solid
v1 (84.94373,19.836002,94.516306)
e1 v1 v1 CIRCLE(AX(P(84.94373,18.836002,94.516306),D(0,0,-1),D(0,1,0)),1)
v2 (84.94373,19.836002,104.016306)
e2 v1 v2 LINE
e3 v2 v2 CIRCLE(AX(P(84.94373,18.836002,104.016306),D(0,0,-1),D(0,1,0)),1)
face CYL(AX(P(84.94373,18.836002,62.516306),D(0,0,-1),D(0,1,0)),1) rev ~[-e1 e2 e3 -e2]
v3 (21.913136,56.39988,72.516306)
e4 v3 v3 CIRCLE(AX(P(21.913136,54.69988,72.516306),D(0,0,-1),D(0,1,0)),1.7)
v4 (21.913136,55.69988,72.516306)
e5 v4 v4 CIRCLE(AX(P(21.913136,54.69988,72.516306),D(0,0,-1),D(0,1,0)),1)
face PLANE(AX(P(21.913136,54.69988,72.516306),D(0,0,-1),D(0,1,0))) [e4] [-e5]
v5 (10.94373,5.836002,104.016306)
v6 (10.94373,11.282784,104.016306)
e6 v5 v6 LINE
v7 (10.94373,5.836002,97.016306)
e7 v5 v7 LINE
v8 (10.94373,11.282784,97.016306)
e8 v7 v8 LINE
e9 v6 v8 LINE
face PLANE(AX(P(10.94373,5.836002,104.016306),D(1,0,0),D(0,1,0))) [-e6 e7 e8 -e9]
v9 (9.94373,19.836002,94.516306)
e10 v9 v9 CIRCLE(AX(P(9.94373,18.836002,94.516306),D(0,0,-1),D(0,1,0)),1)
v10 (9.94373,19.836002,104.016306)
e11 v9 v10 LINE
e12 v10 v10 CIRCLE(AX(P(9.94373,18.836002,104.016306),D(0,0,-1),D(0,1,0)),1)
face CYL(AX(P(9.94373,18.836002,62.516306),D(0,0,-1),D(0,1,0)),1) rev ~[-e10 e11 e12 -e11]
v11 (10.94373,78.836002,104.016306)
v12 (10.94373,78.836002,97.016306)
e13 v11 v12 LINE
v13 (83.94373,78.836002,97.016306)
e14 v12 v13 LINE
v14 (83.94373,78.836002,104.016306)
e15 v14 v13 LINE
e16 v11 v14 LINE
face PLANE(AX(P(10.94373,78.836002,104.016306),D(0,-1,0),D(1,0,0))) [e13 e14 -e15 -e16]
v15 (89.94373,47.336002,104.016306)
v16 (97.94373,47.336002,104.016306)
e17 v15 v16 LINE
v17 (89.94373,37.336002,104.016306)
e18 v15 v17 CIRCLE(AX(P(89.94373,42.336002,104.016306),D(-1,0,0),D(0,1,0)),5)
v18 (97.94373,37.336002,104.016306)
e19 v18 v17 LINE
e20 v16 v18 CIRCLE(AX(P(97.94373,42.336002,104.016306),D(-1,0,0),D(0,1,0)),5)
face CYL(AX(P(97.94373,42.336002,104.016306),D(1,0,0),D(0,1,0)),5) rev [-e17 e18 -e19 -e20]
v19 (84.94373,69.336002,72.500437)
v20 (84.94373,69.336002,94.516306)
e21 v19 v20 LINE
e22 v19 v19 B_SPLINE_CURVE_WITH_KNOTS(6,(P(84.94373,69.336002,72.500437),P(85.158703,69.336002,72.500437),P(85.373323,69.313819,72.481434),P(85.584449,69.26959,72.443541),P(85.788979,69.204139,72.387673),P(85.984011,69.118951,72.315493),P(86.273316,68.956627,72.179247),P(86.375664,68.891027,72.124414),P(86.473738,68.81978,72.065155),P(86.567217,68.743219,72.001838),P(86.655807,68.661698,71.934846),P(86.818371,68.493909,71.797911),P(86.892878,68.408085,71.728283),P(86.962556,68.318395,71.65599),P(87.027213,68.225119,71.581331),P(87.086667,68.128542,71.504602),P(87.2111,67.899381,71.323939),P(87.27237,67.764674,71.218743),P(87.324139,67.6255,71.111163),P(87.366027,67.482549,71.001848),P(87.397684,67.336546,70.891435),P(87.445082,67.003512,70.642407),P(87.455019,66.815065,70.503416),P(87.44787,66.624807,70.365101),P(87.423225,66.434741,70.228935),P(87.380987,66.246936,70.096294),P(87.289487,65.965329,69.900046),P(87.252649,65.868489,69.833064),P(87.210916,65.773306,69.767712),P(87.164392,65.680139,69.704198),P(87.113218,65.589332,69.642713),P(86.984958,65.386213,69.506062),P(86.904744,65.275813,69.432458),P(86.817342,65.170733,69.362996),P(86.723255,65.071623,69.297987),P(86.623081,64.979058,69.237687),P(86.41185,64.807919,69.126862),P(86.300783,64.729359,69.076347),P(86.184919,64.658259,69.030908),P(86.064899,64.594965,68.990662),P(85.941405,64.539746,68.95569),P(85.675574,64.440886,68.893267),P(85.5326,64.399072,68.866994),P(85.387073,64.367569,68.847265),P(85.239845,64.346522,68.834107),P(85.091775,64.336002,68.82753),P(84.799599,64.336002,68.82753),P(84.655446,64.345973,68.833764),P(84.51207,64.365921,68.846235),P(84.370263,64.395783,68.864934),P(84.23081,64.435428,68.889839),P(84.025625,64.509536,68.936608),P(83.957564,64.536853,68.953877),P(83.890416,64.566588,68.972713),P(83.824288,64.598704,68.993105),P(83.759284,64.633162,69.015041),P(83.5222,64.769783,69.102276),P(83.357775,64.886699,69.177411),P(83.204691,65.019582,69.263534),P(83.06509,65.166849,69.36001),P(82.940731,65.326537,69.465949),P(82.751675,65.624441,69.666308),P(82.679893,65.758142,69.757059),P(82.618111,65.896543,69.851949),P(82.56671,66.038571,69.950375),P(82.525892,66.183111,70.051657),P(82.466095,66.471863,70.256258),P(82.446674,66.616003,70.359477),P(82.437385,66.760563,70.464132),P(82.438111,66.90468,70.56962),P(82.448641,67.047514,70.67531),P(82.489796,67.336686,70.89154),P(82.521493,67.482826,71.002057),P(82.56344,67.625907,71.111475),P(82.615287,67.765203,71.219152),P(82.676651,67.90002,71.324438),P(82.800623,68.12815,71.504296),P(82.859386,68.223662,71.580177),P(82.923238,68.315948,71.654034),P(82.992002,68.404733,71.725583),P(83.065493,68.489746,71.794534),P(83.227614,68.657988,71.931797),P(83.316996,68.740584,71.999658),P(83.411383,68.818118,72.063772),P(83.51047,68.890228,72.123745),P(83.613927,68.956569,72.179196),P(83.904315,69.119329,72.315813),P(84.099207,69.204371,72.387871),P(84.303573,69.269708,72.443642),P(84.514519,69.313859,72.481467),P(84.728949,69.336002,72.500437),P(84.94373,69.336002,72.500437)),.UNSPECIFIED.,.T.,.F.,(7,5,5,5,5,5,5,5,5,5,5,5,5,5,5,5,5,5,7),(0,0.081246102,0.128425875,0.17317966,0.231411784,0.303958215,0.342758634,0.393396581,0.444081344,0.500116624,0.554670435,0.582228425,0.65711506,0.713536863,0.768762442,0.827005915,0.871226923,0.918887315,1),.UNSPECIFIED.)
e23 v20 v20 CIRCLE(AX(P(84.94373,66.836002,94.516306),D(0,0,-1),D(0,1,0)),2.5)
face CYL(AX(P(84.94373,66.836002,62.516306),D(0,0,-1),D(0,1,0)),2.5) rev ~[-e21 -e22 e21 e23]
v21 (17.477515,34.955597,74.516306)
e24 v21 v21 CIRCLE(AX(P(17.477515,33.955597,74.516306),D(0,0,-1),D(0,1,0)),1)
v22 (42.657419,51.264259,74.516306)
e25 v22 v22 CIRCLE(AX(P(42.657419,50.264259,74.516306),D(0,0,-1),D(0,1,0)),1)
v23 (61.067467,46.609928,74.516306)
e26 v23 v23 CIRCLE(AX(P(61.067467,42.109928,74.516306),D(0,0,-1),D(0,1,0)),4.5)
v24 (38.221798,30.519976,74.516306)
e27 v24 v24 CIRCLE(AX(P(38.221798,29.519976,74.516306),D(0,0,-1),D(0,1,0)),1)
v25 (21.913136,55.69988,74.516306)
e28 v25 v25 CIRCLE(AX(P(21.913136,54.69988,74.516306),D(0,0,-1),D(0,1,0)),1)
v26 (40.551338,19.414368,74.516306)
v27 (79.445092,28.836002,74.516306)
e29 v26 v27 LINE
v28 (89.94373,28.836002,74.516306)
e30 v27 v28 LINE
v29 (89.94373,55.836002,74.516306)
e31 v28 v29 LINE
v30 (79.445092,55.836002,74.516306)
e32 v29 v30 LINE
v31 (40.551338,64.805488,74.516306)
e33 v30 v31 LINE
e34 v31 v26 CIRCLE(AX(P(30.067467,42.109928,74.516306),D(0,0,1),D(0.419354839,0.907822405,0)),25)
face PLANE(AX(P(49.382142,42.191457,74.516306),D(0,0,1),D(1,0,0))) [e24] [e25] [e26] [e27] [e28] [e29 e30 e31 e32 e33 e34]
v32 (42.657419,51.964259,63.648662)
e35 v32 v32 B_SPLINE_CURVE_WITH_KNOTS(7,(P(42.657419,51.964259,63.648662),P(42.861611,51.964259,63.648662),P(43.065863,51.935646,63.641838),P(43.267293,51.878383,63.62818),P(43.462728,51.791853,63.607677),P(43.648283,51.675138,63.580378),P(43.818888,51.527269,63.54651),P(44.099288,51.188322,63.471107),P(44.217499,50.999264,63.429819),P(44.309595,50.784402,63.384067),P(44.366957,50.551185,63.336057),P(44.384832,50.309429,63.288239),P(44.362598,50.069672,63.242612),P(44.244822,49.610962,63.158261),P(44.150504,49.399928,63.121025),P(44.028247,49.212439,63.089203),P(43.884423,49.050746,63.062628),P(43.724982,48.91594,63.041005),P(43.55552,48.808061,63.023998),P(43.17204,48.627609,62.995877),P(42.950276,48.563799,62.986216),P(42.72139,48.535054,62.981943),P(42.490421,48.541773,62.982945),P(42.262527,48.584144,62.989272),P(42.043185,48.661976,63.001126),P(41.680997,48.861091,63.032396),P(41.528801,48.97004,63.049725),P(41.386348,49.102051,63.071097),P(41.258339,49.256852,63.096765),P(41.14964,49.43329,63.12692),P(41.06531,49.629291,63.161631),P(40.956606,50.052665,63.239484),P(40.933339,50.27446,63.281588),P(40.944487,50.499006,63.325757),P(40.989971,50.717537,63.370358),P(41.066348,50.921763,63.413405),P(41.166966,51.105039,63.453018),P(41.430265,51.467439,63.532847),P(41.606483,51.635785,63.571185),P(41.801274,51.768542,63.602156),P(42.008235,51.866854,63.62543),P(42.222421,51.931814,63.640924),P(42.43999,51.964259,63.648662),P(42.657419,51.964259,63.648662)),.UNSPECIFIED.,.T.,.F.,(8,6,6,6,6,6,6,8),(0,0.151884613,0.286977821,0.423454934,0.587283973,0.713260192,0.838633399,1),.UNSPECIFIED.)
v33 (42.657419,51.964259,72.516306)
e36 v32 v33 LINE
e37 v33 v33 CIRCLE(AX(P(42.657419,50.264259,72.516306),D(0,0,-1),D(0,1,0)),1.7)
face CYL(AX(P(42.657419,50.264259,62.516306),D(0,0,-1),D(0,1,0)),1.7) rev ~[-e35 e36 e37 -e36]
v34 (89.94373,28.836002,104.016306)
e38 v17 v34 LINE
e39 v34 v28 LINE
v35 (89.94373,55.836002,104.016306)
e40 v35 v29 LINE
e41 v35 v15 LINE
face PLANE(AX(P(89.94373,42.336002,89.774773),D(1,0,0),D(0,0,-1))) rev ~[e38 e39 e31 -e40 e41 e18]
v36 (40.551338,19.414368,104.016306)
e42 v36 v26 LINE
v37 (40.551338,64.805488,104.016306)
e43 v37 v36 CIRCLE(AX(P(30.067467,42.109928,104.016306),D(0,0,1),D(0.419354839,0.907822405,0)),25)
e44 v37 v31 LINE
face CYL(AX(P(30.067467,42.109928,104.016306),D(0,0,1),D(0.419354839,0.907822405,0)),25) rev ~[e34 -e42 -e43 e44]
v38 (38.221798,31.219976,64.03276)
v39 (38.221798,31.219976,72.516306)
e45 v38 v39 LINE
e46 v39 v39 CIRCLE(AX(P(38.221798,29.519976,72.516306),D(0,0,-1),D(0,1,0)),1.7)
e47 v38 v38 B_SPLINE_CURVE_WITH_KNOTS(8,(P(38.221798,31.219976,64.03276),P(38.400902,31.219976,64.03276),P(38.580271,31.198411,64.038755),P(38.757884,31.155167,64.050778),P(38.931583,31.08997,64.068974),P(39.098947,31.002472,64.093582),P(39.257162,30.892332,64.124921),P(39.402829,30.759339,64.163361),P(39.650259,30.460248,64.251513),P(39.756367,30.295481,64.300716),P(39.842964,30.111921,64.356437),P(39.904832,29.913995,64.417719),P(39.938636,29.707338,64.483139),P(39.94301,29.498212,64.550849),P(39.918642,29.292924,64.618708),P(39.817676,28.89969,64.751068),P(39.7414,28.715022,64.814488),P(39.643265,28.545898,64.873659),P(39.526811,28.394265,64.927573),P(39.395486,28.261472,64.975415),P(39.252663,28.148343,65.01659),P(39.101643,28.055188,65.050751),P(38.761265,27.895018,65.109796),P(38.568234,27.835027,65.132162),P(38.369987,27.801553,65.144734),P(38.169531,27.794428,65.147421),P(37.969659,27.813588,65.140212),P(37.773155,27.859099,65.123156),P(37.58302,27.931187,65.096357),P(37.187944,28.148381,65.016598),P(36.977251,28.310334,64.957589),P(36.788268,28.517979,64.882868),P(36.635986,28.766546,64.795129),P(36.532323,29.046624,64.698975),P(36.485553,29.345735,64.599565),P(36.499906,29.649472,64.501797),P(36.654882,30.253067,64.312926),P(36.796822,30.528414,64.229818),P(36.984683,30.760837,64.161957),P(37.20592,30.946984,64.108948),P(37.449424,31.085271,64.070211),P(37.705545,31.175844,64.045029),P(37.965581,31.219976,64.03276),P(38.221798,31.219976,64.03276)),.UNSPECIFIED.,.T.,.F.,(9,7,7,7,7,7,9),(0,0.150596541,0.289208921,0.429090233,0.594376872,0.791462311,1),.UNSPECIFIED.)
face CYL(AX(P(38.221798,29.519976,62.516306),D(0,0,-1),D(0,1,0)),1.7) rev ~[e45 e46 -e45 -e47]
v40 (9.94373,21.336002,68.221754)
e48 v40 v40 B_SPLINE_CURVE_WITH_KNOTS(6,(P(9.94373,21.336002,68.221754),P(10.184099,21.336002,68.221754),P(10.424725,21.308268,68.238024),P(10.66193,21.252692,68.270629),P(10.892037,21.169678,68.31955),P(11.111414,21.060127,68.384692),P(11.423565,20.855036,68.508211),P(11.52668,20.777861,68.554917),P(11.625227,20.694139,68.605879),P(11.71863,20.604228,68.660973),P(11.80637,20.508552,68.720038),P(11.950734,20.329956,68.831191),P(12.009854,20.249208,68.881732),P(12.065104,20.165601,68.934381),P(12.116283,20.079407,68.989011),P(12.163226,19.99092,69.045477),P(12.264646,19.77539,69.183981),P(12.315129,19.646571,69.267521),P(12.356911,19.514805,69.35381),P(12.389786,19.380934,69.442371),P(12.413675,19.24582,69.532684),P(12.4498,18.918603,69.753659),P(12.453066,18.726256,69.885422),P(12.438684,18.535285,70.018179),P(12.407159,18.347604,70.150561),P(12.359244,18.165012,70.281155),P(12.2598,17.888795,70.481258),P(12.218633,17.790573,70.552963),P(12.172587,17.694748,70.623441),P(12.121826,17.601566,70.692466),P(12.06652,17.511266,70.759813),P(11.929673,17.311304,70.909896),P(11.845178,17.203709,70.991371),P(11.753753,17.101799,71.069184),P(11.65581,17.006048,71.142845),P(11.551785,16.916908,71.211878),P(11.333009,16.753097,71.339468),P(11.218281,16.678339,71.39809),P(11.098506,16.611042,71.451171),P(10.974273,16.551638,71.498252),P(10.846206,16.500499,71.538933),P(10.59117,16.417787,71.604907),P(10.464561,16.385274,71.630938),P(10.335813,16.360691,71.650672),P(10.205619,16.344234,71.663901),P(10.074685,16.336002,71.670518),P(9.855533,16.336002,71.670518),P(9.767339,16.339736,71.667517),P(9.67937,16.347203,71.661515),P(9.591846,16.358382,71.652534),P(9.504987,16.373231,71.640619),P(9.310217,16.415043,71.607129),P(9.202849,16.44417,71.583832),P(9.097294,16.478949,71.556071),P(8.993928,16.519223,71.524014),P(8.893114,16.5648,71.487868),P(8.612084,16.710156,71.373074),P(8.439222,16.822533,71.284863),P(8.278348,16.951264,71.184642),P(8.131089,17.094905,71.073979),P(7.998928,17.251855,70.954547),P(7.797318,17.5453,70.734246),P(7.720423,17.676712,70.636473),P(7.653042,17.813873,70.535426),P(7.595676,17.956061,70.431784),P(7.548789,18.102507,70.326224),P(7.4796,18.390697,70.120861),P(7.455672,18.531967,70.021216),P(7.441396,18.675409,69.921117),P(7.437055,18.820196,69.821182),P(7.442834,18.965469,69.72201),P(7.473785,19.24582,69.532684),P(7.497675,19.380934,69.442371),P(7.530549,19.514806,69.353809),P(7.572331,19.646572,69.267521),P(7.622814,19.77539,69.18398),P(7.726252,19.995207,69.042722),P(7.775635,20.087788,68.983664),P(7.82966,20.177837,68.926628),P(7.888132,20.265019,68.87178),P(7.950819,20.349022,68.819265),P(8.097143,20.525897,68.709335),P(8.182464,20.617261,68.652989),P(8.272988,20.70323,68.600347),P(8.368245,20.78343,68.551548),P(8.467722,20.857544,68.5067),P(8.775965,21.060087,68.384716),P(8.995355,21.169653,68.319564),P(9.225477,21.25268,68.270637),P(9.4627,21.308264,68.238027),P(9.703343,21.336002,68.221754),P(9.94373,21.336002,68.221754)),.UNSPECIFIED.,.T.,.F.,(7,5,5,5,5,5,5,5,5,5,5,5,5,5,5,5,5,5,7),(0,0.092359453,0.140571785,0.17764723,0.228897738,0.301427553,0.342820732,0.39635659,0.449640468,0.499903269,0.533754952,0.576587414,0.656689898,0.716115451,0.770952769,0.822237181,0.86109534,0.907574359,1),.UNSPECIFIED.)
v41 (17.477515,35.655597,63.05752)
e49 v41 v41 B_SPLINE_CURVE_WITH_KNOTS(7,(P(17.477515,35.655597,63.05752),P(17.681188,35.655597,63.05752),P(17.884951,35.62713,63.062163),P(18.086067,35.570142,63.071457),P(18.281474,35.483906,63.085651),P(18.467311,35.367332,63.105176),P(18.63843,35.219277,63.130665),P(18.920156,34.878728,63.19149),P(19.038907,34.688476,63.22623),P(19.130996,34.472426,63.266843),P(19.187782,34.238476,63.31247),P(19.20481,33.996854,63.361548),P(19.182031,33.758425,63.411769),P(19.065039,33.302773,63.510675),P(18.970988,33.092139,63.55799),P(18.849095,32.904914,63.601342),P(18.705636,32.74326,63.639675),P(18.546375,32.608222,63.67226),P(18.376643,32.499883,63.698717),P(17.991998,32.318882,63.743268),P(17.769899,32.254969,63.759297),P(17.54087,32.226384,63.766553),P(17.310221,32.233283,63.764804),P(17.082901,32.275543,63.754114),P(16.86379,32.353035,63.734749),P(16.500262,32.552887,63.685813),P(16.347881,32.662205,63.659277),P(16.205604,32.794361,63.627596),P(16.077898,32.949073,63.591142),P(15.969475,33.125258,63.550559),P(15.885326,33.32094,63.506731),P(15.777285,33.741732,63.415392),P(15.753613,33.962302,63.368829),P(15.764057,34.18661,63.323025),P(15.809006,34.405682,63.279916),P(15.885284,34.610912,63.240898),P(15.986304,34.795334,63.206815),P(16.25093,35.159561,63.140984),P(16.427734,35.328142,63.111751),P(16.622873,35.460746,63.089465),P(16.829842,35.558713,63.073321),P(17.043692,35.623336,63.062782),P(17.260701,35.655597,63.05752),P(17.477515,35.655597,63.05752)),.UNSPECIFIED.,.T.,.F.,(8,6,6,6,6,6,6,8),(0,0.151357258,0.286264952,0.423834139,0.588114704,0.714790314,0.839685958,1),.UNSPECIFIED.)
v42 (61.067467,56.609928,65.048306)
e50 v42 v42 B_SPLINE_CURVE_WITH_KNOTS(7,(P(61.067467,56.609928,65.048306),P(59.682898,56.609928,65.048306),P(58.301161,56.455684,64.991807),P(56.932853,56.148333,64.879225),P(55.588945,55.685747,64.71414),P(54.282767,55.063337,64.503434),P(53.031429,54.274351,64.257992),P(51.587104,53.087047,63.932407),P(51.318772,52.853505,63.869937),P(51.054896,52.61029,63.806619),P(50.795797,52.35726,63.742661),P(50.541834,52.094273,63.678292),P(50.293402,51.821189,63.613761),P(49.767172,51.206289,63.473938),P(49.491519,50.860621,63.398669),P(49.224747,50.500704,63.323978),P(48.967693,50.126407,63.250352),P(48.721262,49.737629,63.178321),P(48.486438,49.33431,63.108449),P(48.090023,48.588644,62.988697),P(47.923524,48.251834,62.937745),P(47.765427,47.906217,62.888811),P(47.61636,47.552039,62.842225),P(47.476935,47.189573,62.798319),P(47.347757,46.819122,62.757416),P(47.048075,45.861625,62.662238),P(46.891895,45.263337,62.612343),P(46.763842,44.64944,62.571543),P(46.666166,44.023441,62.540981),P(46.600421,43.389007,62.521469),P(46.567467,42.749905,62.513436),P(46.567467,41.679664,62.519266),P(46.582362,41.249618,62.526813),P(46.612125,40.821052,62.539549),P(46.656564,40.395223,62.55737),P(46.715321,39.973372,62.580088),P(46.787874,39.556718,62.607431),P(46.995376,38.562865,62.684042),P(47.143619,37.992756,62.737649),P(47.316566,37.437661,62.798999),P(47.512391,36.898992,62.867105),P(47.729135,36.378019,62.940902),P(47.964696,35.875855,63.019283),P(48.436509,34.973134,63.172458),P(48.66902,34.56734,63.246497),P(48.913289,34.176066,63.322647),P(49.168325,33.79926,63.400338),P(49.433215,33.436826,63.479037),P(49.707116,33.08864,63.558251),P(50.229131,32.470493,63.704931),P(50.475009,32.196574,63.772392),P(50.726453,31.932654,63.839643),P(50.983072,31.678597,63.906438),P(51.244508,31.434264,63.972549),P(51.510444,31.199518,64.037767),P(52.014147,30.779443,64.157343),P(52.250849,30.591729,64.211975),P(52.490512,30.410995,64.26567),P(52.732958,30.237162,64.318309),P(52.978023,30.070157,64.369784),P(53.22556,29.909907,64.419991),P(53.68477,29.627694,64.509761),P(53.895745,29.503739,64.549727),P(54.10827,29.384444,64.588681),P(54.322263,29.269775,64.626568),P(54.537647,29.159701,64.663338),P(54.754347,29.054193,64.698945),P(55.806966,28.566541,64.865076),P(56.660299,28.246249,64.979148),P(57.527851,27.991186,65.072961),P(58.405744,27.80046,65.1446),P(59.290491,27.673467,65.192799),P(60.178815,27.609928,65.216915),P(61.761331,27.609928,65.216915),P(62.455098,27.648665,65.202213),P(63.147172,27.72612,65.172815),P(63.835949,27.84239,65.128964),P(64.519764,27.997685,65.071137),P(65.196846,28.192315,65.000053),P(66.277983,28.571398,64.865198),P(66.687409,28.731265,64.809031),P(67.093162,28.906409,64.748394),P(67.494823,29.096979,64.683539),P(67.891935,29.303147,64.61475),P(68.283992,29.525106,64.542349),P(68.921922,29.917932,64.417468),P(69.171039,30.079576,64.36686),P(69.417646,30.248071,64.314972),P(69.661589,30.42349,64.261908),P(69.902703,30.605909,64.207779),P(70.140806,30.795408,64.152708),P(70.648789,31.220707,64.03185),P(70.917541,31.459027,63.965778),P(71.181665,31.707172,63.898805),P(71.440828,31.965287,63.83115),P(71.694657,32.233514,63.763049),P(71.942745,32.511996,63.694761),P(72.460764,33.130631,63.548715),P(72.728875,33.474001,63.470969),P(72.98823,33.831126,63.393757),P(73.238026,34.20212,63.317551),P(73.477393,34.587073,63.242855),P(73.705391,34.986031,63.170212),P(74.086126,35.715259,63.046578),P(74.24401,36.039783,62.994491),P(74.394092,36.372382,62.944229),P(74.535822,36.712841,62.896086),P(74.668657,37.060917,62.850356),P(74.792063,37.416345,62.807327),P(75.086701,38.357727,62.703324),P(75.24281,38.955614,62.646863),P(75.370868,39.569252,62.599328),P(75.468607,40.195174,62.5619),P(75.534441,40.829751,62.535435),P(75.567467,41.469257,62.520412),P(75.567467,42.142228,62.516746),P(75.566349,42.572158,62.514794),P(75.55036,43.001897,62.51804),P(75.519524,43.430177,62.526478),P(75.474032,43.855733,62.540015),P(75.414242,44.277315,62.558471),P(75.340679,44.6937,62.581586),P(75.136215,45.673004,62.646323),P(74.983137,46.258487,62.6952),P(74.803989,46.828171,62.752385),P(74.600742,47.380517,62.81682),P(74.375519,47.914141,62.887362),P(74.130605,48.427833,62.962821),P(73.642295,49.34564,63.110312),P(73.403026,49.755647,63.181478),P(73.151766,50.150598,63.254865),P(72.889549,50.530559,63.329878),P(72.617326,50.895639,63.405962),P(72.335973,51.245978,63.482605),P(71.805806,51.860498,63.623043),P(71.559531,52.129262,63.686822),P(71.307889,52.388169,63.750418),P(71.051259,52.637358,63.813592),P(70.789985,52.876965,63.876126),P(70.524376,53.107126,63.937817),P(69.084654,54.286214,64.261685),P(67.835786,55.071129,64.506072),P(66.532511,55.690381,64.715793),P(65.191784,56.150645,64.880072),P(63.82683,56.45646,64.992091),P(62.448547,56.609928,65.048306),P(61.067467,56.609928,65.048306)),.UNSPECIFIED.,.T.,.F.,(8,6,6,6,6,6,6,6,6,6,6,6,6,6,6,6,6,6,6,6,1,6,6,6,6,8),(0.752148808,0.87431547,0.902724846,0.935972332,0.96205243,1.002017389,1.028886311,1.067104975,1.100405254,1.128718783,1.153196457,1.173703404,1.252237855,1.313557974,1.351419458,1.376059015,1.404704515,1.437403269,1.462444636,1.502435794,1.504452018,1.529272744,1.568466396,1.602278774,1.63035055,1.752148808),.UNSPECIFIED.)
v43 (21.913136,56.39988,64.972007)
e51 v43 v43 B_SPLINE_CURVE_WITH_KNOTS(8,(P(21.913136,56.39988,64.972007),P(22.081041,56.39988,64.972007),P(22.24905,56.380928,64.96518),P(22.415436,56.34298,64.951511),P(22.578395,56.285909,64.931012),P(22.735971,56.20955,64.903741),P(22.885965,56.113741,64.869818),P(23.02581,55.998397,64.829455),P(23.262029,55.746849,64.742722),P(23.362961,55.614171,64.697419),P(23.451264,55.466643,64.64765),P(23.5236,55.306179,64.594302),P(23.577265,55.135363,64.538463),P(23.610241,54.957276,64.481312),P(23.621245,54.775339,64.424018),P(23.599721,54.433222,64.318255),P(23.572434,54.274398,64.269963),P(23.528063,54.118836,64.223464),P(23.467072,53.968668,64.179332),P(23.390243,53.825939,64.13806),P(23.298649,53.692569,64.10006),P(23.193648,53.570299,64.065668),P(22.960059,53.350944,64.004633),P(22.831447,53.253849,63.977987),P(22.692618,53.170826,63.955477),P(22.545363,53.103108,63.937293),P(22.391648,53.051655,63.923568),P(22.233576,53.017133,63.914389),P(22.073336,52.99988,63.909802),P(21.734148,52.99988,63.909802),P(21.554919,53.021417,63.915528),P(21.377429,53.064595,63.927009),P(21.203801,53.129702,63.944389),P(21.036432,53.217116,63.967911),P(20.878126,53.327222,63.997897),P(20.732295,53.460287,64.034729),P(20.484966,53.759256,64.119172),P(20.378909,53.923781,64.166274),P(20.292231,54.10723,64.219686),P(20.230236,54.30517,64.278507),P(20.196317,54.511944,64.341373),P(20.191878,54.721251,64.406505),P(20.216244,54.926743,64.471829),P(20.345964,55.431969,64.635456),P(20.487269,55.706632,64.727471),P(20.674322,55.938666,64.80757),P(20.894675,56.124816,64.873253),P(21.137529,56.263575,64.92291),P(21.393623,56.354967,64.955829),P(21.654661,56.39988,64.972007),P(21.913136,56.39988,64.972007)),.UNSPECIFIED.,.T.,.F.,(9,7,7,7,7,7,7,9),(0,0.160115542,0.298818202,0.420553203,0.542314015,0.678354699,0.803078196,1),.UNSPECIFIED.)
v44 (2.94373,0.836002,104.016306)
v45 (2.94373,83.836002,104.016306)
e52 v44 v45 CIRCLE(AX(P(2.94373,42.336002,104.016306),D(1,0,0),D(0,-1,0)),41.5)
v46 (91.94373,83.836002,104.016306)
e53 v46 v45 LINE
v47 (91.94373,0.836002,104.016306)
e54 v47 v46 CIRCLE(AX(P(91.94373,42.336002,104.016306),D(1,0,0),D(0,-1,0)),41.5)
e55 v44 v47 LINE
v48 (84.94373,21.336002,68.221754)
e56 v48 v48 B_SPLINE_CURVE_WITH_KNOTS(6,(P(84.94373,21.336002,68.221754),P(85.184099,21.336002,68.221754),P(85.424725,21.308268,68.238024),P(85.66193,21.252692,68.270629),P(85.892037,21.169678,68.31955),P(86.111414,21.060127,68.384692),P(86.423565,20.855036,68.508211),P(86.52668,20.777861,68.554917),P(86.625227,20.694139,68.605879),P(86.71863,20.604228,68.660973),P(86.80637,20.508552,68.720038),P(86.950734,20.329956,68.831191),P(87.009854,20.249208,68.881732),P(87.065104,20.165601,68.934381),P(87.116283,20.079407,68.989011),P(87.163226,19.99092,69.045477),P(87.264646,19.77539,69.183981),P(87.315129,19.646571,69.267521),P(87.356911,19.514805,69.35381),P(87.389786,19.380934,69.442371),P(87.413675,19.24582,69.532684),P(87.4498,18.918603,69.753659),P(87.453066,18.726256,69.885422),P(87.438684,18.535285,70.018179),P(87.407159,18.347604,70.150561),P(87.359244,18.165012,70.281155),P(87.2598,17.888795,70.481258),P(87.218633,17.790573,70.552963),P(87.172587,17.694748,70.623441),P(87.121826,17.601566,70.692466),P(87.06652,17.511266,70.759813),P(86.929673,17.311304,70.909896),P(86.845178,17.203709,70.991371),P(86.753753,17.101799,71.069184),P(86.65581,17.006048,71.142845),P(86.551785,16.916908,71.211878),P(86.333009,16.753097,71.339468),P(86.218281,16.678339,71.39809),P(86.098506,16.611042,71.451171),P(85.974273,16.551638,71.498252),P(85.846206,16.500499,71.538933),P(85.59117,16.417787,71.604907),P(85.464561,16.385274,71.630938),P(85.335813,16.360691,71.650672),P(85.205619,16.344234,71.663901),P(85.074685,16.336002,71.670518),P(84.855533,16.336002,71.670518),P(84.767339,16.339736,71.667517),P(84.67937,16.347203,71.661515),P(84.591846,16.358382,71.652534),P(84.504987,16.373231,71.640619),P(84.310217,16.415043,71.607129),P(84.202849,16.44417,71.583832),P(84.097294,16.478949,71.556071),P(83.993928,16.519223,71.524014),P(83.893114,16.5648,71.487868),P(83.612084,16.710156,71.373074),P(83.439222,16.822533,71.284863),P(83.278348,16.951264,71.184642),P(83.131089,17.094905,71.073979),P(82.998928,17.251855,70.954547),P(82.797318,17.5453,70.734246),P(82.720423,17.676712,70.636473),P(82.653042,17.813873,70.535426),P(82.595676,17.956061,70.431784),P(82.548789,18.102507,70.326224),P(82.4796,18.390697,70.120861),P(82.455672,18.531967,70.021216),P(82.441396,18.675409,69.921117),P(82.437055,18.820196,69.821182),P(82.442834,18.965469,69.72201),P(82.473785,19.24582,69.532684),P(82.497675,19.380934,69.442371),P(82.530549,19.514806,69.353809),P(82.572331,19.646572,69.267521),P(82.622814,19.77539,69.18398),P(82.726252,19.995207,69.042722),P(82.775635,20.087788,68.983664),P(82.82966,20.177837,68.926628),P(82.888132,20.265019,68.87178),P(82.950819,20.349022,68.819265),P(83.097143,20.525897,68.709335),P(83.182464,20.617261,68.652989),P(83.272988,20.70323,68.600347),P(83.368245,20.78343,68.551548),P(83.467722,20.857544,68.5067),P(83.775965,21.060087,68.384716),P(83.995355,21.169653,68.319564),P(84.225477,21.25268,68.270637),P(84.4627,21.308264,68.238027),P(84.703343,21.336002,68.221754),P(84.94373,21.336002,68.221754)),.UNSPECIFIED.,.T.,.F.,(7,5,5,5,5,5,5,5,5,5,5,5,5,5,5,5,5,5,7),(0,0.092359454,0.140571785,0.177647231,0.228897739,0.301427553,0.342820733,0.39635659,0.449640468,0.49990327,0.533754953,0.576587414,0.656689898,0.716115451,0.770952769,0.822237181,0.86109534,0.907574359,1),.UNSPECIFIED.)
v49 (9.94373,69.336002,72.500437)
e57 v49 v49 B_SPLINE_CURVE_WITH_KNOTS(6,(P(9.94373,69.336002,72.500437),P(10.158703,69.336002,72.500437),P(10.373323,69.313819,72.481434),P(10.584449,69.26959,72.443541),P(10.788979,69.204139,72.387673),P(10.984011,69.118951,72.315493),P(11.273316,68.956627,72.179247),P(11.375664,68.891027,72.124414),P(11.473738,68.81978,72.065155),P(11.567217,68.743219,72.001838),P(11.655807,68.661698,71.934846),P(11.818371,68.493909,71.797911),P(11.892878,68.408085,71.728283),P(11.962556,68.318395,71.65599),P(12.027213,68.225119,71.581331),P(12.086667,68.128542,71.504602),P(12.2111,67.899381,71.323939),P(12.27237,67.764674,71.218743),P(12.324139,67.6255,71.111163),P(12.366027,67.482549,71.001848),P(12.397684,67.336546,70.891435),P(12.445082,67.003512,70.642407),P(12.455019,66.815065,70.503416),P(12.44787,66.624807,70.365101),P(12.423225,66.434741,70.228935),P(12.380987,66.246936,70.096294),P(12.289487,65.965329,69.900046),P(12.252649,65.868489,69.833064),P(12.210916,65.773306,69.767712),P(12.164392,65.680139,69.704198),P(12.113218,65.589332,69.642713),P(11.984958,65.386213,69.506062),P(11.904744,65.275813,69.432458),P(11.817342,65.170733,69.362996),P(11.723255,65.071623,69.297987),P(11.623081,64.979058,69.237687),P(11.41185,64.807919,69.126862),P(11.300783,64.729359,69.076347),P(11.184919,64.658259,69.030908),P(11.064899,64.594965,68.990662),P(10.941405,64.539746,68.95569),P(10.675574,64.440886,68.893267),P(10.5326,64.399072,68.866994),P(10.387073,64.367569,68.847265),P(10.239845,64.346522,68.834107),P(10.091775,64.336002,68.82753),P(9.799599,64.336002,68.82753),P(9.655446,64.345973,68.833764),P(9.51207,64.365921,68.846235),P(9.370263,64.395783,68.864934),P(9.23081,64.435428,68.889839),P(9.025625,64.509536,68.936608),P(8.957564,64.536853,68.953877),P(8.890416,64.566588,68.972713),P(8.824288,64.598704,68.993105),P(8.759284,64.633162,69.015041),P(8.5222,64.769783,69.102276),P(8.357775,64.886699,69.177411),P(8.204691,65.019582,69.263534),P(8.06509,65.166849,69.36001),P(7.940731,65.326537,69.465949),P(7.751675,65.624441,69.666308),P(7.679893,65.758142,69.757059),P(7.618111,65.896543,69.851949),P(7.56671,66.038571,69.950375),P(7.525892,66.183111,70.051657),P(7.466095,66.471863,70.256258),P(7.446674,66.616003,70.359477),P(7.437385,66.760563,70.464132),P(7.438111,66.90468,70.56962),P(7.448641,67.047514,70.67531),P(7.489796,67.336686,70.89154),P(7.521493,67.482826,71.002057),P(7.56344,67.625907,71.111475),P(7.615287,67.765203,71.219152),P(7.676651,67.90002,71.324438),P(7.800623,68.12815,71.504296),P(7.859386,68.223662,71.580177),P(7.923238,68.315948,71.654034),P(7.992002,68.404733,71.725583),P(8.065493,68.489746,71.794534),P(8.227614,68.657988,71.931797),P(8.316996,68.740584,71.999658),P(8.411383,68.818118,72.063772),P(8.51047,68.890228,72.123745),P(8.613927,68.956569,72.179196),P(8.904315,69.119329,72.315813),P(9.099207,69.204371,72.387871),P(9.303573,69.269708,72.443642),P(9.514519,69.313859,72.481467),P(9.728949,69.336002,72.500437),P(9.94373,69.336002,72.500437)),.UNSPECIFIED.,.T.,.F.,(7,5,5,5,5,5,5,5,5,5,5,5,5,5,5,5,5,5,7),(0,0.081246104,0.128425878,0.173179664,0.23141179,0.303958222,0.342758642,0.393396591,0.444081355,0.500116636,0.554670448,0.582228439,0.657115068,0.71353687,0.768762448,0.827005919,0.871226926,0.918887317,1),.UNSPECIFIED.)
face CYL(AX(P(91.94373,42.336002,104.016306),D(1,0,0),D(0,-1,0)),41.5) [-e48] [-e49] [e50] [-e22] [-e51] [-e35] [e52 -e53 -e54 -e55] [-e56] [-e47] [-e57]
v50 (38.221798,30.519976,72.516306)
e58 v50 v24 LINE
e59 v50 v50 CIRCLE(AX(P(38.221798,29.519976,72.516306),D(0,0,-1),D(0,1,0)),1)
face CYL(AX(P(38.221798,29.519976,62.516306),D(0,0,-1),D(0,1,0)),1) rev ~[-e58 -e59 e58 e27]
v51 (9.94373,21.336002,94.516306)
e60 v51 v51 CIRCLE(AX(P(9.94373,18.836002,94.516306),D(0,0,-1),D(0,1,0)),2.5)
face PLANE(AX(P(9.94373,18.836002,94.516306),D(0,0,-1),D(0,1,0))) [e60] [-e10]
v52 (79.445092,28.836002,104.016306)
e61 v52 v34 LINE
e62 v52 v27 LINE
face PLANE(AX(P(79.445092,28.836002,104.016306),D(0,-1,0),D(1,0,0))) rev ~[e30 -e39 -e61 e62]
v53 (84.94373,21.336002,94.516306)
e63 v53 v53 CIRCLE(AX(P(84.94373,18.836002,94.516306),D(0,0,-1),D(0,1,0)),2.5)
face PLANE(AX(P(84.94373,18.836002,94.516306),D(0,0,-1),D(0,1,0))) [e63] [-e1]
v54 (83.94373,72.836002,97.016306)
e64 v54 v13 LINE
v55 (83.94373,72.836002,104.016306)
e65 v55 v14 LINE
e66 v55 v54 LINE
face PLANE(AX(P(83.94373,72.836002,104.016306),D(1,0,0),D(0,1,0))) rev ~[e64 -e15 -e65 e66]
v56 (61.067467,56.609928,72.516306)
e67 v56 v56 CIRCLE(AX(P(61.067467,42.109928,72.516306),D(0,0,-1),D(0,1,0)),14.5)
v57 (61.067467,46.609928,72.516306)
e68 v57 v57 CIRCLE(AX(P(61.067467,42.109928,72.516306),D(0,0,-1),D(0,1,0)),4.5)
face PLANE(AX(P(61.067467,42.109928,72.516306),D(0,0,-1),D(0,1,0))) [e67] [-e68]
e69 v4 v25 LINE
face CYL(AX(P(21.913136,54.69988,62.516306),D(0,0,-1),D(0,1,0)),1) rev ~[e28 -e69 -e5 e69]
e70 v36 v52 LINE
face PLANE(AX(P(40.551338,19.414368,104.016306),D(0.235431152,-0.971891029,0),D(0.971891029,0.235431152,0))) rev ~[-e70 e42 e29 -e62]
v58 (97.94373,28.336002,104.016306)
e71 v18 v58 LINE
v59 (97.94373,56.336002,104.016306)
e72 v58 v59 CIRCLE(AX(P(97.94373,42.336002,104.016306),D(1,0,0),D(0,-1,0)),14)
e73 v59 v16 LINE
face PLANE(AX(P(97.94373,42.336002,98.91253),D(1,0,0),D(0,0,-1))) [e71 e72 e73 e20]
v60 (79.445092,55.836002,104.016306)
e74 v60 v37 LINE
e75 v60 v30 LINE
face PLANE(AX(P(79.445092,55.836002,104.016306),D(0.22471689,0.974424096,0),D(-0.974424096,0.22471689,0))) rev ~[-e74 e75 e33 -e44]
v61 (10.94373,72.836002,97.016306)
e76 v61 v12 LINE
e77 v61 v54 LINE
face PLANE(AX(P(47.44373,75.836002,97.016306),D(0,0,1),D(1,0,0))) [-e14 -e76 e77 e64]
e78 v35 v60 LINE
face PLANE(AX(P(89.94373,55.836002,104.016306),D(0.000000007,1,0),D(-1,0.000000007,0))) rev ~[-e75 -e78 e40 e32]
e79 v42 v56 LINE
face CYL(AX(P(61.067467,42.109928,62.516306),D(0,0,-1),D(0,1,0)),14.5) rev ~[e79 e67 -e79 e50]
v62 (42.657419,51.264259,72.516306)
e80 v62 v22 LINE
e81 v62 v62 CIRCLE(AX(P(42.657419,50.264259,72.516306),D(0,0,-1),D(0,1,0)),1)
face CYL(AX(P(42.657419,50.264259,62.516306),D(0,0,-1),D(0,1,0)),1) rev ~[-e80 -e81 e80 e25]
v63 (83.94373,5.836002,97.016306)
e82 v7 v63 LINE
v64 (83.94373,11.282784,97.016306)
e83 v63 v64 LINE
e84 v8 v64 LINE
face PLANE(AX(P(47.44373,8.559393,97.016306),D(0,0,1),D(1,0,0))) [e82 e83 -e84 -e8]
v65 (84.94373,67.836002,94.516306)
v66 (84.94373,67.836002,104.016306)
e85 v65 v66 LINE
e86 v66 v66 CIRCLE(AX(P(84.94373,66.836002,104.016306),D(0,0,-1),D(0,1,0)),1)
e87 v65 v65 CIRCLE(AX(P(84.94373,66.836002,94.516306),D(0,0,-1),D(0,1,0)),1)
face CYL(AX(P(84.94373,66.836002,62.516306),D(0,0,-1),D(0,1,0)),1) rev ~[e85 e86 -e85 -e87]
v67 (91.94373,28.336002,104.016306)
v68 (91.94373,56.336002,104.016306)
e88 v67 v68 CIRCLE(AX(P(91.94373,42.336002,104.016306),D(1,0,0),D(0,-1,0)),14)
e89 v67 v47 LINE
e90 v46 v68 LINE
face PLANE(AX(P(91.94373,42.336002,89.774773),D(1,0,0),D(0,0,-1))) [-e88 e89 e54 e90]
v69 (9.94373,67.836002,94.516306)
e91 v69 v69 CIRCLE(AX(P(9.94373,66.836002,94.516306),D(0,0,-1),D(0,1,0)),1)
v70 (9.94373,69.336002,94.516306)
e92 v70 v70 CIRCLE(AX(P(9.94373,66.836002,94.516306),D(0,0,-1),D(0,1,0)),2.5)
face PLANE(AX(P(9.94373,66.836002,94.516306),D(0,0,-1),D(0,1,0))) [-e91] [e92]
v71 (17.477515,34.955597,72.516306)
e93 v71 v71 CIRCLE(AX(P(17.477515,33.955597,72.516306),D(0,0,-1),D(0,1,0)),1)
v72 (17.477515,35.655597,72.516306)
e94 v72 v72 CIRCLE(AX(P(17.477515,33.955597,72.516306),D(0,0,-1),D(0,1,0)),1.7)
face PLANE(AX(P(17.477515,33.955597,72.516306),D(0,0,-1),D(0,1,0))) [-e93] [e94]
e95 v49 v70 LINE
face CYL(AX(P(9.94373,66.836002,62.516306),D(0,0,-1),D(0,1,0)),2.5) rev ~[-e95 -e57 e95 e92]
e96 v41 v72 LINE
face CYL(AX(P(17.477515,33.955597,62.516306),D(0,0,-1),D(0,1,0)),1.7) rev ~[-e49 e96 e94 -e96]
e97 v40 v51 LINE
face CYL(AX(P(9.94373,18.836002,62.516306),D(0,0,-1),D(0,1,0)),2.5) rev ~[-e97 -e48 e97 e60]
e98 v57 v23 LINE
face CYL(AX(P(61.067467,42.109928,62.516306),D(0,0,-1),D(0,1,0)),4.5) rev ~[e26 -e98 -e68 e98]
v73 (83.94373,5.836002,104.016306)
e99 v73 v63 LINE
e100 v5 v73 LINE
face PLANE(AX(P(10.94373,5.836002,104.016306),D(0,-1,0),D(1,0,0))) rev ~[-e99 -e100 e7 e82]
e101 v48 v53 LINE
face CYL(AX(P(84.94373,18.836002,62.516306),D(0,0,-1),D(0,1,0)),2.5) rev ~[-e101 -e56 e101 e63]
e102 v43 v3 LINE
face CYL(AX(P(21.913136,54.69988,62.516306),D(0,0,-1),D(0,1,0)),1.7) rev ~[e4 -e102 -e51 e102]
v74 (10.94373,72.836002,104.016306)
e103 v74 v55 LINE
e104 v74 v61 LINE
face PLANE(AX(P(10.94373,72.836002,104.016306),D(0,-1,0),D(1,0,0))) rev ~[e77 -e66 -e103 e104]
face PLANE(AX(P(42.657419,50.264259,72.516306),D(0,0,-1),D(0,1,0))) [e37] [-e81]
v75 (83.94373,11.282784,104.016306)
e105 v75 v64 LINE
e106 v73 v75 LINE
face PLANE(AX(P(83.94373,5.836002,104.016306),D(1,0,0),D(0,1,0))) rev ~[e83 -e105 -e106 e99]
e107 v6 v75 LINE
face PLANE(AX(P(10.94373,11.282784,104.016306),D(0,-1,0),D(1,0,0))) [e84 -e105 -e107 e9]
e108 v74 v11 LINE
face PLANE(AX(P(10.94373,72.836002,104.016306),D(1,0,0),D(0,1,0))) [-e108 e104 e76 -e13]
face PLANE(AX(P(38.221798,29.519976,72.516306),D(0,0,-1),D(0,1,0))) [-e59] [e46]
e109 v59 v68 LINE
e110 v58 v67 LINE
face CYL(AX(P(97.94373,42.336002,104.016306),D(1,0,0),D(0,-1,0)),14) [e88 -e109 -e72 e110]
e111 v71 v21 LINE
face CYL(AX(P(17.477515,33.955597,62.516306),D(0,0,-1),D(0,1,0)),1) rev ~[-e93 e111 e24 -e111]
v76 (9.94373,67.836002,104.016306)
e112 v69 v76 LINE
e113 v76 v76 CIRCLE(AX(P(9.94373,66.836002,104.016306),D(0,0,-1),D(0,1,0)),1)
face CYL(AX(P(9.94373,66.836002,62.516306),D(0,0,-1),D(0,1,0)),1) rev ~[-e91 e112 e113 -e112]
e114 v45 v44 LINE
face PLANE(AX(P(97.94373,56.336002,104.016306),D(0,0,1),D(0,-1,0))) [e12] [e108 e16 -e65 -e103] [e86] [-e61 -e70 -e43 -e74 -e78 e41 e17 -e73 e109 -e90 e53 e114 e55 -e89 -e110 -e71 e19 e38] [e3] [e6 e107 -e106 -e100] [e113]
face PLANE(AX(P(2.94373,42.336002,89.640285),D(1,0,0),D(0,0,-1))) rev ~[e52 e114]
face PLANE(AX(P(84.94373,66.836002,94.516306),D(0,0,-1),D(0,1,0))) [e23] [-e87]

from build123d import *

# Parameters (mm, degrees)
BOSS_EXTRUDE2_DEPTH = 87
CUT_EXTRUDE1_DEPTH  = 29.5
SKETCH3_R           = 4.5
SKETCH3_R_2         = 1
CUT_EXTRUDE2_DEPTH  = 130.771336418
SKETCH4_R           = 14.5
SKETCH4_R_2         = 1.7
CUT_EXTRUDE3_DEPTH  = 10
BOSS_EXTRUDE3_START = 2
BOSS_EXTRUDE3_DEPTH = 2
BOSS_EXTRUDE4_START = 6
BOSS_EXTRUDE4_DEPTH = 6
SKETCH7_W           = 73
SKETCH7_H           = 6
SKETCH7_H_2         = 5.446782016
CUT_EXTRUDE4_DEPTH  = 7
SKETCH8_R           = 1
CUT_EXTRUDE5_DEPTH  = 136.438914135
SKETCH9_R           = 2.5
CUT_EXTRUDE6_DEPTH  = 32


with BuildPart() as part:
    # Sketch1 → Boss-Extrude2 (new body)
    with BuildSketch(Plane(origin=(89.94373008, 0, 0), x_dir=(0, 0, -1), z_dir=(1, 0, 0))):
        with BuildLine():
            Line((-104.016306216, 83.836001664), (-104.016306216, 0.836001664))
            ThreePointArc((-104.016306216, 0.836001664), (-62.516306216, 42.336001664), (-104.016306216, 83.836001664))
        make_face()
    extrude(amount=-BOSS_EXTRUDE2_DEPTH)

    # Sketch2 → Cut-Extrude1 (cut)
    with BuildSketch(Plane.XY.offset(104.016306216)):
        with BuildLine():
            Line((89.94373008, 55.836001595), (79.445092487, 55.836001664))
            Line((79.445092487, 55.836001664), (40.551337791, 64.805487997))
            ThreePointArc((40.551337791, 64.805487997), (5.067466824, 42.109927869), (40.551337791, 19.414367741))
            Line((40.551337791, 19.414367741), (79.445092487, 28.836001664))
            Line((79.445092487, 28.836001664), (89.94373008, 28.836001664))
            Line((89.94373008, 28.836001664), (89.94373008, 55.836001595))
        make_face()
    extrude(amount=-CUT_EXTRUDE1_DEPTH, mode=Mode.SUBTRACT)

    # Sketch3 → Cut-Extrude2 (cut, through all)
    with BuildSketch(Plane(origin=(0, 0, 62.516306216), x_dir=(-1, 0, 0), z_dir=(0, 0, -1))):
        with Locations(Location((-61.067466824, 42.109927869, 0), (0, 0, 90))):
            Circle(SKETCH3_R)
        with Locations(Location((-42.657418818, 50.264258545, 0), (0, 0, 90))):
            Circle(SKETCH3_R_2)
        with Locations(Location((-21.913136148, 54.699879864, 0), (0, 0, 90))):
            Circle(SKETCH3_R_2)
        with Locations(Location((-38.2217975, 29.519975875, 0), (0, 0, 90))):
            Circle(SKETCH3_R_2)
        with Locations(Location((-17.477514829, 33.955597193, 0), (0, 0, 90))):
            Circle(SKETCH3_R_2)
    extrude(amount=-CUT_EXTRUDE2_DEPTH, mode=Mode.SUBTRACT)

    # Sketch4 → Cut-Extrude3 (cut)
    with BuildSketch(Plane(origin=(0, 0, 62.516306216), x_dir=(-1, 0, 0), z_dir=(0, 0, -1))):
        with Locations(Location((-61.067466824, 42.109927869, 0), (0, 0, 90))):
            Circle(SKETCH4_R)
        with Locations(Location((-42.657418818, 50.264258545, 0), (0, 0, 90))):
            Circle(SKETCH4_R_2)
        with Locations(Location((-21.913136148, 54.699879864, 0), (0, 0, 90))):
            Circle(SKETCH4_R_2)
        with Locations(Location((-38.2217975, 29.519975875, 0), (0, 0, 90))):
            Circle(SKETCH4_R_2)
        with Locations(Location((-17.477514829, 33.955597193, 0), (0, 0, 90))):
            Circle(SKETCH4_R_2)
    extrude(amount=-CUT_EXTRUDE3_DEPTH, mode=Mode.SUBTRACT)

    # Sketch5 → Boss-Extrude3 (add)
    with BuildSketch(Plane(origin=(89.94373008, 0, 0), x_dir=(0, 0, -1), z_dir=(1, 0, 0)).offset(BOSS_EXTRUDE3_START)):
        with BuildLine():
            Line((-104.016306216, 55.836001595), (-104.016306216, 47.336001664))
            ThreePointArc((-104.016306216, 47.336001664), (-99.016306216, 42.336001664), (-104.016306216, 37.336001664))
            Line((-104.016306216, 37.336001664), (-104.016306216, 28.836001664))
            Line((-104.016306216, 28.836001664), (-104.016306216, 0.836001664))
            ThreePointArc((-104.016306216, 0.836001664), (-62.516306216, 42.336001664), (-104.016306216, 83.836001664))
            Line((-104.016306216, 83.836001664), (-104.016306216, 55.836001595))
        make_face()
    extrude(amount=-BOSS_EXTRUDE3_DEPTH)

    # Sketch6 → Boss-Extrude4 (add)
    with BuildSketch(Plane(origin=(91.94373008, 0, 0), x_dir=(0, 0, -1), z_dir=(1, 0, 0)).offset(BOSS_EXTRUDE4_START)):
        with BuildLine():
            Line((-104.016306216, 56.336001664), (-104.016306216, 47.336001664))
            ThreePointArc((-104.016306216, 47.336001664), (-99.016306216, 42.336001664), (-104.016306216, 37.336001664))
            Line((-104.016306216, 37.336001664), (-104.016306216, 28.336001664))
            ThreePointArc((-104.016306216, 28.336001664), (-90.016306216, 42.336001664), (-104.016306216, 56.336001664))
        make_face()
    extrude(amount=-BOSS_EXTRUDE4_DEPTH)

    # Sketch7 → Cut-Extrude4 (cut)
    with BuildSketch(Plane.XY.offset(104.016306216)):
        with Locations((47.44373008, 75.836001664)):
            Rectangle(SKETCH7_W, SKETCH7_H)
        with Locations((47.44373008, 8.559392672)):
            Rectangle(SKETCH7_W, SKETCH7_H_2)
    extrude(amount=-CUT_EXTRUDE4_DEPTH, mode=Mode.SUBTRACT)

    # Sketch8 → Cut-Extrude5 (cut, through all)
    with BuildSketch(Plane(origin=(0, 0, 62.516306216), x_dir=(-1, 0, 0), z_dir=(0, 0, -1))):
        with Locations(Location((-84.94373008, 66.836001664, 0), (0, 0, 90))):
            Circle(SKETCH8_R)
        with Locations(Location((-84.94373008, 18.836001664, 0), (0, 0, 90))):
            Circle(SKETCH8_R)
        with Locations(Location((-9.94373008, 66.836001664, 0), (0, 0, 90))):
            Circle(SKETCH8_R)
        with Locations(Location((-9.94373008, 18.836001664, 0), (0, 0, 90))):
            Circle(SKETCH8_R)
    extrude(amount=-CUT_EXTRUDE5_DEPTH, mode=Mode.SUBTRACT)

    # Sketch9 → Cut-Extrude6 (cut)
    with BuildSketch(Plane(origin=(0, 0, 62.516306216), x_dir=(-1, 0, 0), z_dir=(0, 0, -1))):
        with Locations(Location((-84.94373008, 66.836001664, 0), (0, 0, 90))):
            Circle(SKETCH9_R)
        with Locations(Location((-84.94373008, 18.836001664, 0), (0, 0, 90))):
            Circle(SKETCH9_R)
        with Locations(Location((-9.94373008, 66.836001664, 0), (0, 0, 90))):
            Circle(SKETCH9_R)
        with Locations(Location((-9.94373008, 18.836001664, 0), (0, 0, 90))):
            Circle(SKETCH9_R)
    extrude(amount=-CUT_EXTRUDE6_DEPTH, mode=Mode.SUBTRACT)


solid = part.part
